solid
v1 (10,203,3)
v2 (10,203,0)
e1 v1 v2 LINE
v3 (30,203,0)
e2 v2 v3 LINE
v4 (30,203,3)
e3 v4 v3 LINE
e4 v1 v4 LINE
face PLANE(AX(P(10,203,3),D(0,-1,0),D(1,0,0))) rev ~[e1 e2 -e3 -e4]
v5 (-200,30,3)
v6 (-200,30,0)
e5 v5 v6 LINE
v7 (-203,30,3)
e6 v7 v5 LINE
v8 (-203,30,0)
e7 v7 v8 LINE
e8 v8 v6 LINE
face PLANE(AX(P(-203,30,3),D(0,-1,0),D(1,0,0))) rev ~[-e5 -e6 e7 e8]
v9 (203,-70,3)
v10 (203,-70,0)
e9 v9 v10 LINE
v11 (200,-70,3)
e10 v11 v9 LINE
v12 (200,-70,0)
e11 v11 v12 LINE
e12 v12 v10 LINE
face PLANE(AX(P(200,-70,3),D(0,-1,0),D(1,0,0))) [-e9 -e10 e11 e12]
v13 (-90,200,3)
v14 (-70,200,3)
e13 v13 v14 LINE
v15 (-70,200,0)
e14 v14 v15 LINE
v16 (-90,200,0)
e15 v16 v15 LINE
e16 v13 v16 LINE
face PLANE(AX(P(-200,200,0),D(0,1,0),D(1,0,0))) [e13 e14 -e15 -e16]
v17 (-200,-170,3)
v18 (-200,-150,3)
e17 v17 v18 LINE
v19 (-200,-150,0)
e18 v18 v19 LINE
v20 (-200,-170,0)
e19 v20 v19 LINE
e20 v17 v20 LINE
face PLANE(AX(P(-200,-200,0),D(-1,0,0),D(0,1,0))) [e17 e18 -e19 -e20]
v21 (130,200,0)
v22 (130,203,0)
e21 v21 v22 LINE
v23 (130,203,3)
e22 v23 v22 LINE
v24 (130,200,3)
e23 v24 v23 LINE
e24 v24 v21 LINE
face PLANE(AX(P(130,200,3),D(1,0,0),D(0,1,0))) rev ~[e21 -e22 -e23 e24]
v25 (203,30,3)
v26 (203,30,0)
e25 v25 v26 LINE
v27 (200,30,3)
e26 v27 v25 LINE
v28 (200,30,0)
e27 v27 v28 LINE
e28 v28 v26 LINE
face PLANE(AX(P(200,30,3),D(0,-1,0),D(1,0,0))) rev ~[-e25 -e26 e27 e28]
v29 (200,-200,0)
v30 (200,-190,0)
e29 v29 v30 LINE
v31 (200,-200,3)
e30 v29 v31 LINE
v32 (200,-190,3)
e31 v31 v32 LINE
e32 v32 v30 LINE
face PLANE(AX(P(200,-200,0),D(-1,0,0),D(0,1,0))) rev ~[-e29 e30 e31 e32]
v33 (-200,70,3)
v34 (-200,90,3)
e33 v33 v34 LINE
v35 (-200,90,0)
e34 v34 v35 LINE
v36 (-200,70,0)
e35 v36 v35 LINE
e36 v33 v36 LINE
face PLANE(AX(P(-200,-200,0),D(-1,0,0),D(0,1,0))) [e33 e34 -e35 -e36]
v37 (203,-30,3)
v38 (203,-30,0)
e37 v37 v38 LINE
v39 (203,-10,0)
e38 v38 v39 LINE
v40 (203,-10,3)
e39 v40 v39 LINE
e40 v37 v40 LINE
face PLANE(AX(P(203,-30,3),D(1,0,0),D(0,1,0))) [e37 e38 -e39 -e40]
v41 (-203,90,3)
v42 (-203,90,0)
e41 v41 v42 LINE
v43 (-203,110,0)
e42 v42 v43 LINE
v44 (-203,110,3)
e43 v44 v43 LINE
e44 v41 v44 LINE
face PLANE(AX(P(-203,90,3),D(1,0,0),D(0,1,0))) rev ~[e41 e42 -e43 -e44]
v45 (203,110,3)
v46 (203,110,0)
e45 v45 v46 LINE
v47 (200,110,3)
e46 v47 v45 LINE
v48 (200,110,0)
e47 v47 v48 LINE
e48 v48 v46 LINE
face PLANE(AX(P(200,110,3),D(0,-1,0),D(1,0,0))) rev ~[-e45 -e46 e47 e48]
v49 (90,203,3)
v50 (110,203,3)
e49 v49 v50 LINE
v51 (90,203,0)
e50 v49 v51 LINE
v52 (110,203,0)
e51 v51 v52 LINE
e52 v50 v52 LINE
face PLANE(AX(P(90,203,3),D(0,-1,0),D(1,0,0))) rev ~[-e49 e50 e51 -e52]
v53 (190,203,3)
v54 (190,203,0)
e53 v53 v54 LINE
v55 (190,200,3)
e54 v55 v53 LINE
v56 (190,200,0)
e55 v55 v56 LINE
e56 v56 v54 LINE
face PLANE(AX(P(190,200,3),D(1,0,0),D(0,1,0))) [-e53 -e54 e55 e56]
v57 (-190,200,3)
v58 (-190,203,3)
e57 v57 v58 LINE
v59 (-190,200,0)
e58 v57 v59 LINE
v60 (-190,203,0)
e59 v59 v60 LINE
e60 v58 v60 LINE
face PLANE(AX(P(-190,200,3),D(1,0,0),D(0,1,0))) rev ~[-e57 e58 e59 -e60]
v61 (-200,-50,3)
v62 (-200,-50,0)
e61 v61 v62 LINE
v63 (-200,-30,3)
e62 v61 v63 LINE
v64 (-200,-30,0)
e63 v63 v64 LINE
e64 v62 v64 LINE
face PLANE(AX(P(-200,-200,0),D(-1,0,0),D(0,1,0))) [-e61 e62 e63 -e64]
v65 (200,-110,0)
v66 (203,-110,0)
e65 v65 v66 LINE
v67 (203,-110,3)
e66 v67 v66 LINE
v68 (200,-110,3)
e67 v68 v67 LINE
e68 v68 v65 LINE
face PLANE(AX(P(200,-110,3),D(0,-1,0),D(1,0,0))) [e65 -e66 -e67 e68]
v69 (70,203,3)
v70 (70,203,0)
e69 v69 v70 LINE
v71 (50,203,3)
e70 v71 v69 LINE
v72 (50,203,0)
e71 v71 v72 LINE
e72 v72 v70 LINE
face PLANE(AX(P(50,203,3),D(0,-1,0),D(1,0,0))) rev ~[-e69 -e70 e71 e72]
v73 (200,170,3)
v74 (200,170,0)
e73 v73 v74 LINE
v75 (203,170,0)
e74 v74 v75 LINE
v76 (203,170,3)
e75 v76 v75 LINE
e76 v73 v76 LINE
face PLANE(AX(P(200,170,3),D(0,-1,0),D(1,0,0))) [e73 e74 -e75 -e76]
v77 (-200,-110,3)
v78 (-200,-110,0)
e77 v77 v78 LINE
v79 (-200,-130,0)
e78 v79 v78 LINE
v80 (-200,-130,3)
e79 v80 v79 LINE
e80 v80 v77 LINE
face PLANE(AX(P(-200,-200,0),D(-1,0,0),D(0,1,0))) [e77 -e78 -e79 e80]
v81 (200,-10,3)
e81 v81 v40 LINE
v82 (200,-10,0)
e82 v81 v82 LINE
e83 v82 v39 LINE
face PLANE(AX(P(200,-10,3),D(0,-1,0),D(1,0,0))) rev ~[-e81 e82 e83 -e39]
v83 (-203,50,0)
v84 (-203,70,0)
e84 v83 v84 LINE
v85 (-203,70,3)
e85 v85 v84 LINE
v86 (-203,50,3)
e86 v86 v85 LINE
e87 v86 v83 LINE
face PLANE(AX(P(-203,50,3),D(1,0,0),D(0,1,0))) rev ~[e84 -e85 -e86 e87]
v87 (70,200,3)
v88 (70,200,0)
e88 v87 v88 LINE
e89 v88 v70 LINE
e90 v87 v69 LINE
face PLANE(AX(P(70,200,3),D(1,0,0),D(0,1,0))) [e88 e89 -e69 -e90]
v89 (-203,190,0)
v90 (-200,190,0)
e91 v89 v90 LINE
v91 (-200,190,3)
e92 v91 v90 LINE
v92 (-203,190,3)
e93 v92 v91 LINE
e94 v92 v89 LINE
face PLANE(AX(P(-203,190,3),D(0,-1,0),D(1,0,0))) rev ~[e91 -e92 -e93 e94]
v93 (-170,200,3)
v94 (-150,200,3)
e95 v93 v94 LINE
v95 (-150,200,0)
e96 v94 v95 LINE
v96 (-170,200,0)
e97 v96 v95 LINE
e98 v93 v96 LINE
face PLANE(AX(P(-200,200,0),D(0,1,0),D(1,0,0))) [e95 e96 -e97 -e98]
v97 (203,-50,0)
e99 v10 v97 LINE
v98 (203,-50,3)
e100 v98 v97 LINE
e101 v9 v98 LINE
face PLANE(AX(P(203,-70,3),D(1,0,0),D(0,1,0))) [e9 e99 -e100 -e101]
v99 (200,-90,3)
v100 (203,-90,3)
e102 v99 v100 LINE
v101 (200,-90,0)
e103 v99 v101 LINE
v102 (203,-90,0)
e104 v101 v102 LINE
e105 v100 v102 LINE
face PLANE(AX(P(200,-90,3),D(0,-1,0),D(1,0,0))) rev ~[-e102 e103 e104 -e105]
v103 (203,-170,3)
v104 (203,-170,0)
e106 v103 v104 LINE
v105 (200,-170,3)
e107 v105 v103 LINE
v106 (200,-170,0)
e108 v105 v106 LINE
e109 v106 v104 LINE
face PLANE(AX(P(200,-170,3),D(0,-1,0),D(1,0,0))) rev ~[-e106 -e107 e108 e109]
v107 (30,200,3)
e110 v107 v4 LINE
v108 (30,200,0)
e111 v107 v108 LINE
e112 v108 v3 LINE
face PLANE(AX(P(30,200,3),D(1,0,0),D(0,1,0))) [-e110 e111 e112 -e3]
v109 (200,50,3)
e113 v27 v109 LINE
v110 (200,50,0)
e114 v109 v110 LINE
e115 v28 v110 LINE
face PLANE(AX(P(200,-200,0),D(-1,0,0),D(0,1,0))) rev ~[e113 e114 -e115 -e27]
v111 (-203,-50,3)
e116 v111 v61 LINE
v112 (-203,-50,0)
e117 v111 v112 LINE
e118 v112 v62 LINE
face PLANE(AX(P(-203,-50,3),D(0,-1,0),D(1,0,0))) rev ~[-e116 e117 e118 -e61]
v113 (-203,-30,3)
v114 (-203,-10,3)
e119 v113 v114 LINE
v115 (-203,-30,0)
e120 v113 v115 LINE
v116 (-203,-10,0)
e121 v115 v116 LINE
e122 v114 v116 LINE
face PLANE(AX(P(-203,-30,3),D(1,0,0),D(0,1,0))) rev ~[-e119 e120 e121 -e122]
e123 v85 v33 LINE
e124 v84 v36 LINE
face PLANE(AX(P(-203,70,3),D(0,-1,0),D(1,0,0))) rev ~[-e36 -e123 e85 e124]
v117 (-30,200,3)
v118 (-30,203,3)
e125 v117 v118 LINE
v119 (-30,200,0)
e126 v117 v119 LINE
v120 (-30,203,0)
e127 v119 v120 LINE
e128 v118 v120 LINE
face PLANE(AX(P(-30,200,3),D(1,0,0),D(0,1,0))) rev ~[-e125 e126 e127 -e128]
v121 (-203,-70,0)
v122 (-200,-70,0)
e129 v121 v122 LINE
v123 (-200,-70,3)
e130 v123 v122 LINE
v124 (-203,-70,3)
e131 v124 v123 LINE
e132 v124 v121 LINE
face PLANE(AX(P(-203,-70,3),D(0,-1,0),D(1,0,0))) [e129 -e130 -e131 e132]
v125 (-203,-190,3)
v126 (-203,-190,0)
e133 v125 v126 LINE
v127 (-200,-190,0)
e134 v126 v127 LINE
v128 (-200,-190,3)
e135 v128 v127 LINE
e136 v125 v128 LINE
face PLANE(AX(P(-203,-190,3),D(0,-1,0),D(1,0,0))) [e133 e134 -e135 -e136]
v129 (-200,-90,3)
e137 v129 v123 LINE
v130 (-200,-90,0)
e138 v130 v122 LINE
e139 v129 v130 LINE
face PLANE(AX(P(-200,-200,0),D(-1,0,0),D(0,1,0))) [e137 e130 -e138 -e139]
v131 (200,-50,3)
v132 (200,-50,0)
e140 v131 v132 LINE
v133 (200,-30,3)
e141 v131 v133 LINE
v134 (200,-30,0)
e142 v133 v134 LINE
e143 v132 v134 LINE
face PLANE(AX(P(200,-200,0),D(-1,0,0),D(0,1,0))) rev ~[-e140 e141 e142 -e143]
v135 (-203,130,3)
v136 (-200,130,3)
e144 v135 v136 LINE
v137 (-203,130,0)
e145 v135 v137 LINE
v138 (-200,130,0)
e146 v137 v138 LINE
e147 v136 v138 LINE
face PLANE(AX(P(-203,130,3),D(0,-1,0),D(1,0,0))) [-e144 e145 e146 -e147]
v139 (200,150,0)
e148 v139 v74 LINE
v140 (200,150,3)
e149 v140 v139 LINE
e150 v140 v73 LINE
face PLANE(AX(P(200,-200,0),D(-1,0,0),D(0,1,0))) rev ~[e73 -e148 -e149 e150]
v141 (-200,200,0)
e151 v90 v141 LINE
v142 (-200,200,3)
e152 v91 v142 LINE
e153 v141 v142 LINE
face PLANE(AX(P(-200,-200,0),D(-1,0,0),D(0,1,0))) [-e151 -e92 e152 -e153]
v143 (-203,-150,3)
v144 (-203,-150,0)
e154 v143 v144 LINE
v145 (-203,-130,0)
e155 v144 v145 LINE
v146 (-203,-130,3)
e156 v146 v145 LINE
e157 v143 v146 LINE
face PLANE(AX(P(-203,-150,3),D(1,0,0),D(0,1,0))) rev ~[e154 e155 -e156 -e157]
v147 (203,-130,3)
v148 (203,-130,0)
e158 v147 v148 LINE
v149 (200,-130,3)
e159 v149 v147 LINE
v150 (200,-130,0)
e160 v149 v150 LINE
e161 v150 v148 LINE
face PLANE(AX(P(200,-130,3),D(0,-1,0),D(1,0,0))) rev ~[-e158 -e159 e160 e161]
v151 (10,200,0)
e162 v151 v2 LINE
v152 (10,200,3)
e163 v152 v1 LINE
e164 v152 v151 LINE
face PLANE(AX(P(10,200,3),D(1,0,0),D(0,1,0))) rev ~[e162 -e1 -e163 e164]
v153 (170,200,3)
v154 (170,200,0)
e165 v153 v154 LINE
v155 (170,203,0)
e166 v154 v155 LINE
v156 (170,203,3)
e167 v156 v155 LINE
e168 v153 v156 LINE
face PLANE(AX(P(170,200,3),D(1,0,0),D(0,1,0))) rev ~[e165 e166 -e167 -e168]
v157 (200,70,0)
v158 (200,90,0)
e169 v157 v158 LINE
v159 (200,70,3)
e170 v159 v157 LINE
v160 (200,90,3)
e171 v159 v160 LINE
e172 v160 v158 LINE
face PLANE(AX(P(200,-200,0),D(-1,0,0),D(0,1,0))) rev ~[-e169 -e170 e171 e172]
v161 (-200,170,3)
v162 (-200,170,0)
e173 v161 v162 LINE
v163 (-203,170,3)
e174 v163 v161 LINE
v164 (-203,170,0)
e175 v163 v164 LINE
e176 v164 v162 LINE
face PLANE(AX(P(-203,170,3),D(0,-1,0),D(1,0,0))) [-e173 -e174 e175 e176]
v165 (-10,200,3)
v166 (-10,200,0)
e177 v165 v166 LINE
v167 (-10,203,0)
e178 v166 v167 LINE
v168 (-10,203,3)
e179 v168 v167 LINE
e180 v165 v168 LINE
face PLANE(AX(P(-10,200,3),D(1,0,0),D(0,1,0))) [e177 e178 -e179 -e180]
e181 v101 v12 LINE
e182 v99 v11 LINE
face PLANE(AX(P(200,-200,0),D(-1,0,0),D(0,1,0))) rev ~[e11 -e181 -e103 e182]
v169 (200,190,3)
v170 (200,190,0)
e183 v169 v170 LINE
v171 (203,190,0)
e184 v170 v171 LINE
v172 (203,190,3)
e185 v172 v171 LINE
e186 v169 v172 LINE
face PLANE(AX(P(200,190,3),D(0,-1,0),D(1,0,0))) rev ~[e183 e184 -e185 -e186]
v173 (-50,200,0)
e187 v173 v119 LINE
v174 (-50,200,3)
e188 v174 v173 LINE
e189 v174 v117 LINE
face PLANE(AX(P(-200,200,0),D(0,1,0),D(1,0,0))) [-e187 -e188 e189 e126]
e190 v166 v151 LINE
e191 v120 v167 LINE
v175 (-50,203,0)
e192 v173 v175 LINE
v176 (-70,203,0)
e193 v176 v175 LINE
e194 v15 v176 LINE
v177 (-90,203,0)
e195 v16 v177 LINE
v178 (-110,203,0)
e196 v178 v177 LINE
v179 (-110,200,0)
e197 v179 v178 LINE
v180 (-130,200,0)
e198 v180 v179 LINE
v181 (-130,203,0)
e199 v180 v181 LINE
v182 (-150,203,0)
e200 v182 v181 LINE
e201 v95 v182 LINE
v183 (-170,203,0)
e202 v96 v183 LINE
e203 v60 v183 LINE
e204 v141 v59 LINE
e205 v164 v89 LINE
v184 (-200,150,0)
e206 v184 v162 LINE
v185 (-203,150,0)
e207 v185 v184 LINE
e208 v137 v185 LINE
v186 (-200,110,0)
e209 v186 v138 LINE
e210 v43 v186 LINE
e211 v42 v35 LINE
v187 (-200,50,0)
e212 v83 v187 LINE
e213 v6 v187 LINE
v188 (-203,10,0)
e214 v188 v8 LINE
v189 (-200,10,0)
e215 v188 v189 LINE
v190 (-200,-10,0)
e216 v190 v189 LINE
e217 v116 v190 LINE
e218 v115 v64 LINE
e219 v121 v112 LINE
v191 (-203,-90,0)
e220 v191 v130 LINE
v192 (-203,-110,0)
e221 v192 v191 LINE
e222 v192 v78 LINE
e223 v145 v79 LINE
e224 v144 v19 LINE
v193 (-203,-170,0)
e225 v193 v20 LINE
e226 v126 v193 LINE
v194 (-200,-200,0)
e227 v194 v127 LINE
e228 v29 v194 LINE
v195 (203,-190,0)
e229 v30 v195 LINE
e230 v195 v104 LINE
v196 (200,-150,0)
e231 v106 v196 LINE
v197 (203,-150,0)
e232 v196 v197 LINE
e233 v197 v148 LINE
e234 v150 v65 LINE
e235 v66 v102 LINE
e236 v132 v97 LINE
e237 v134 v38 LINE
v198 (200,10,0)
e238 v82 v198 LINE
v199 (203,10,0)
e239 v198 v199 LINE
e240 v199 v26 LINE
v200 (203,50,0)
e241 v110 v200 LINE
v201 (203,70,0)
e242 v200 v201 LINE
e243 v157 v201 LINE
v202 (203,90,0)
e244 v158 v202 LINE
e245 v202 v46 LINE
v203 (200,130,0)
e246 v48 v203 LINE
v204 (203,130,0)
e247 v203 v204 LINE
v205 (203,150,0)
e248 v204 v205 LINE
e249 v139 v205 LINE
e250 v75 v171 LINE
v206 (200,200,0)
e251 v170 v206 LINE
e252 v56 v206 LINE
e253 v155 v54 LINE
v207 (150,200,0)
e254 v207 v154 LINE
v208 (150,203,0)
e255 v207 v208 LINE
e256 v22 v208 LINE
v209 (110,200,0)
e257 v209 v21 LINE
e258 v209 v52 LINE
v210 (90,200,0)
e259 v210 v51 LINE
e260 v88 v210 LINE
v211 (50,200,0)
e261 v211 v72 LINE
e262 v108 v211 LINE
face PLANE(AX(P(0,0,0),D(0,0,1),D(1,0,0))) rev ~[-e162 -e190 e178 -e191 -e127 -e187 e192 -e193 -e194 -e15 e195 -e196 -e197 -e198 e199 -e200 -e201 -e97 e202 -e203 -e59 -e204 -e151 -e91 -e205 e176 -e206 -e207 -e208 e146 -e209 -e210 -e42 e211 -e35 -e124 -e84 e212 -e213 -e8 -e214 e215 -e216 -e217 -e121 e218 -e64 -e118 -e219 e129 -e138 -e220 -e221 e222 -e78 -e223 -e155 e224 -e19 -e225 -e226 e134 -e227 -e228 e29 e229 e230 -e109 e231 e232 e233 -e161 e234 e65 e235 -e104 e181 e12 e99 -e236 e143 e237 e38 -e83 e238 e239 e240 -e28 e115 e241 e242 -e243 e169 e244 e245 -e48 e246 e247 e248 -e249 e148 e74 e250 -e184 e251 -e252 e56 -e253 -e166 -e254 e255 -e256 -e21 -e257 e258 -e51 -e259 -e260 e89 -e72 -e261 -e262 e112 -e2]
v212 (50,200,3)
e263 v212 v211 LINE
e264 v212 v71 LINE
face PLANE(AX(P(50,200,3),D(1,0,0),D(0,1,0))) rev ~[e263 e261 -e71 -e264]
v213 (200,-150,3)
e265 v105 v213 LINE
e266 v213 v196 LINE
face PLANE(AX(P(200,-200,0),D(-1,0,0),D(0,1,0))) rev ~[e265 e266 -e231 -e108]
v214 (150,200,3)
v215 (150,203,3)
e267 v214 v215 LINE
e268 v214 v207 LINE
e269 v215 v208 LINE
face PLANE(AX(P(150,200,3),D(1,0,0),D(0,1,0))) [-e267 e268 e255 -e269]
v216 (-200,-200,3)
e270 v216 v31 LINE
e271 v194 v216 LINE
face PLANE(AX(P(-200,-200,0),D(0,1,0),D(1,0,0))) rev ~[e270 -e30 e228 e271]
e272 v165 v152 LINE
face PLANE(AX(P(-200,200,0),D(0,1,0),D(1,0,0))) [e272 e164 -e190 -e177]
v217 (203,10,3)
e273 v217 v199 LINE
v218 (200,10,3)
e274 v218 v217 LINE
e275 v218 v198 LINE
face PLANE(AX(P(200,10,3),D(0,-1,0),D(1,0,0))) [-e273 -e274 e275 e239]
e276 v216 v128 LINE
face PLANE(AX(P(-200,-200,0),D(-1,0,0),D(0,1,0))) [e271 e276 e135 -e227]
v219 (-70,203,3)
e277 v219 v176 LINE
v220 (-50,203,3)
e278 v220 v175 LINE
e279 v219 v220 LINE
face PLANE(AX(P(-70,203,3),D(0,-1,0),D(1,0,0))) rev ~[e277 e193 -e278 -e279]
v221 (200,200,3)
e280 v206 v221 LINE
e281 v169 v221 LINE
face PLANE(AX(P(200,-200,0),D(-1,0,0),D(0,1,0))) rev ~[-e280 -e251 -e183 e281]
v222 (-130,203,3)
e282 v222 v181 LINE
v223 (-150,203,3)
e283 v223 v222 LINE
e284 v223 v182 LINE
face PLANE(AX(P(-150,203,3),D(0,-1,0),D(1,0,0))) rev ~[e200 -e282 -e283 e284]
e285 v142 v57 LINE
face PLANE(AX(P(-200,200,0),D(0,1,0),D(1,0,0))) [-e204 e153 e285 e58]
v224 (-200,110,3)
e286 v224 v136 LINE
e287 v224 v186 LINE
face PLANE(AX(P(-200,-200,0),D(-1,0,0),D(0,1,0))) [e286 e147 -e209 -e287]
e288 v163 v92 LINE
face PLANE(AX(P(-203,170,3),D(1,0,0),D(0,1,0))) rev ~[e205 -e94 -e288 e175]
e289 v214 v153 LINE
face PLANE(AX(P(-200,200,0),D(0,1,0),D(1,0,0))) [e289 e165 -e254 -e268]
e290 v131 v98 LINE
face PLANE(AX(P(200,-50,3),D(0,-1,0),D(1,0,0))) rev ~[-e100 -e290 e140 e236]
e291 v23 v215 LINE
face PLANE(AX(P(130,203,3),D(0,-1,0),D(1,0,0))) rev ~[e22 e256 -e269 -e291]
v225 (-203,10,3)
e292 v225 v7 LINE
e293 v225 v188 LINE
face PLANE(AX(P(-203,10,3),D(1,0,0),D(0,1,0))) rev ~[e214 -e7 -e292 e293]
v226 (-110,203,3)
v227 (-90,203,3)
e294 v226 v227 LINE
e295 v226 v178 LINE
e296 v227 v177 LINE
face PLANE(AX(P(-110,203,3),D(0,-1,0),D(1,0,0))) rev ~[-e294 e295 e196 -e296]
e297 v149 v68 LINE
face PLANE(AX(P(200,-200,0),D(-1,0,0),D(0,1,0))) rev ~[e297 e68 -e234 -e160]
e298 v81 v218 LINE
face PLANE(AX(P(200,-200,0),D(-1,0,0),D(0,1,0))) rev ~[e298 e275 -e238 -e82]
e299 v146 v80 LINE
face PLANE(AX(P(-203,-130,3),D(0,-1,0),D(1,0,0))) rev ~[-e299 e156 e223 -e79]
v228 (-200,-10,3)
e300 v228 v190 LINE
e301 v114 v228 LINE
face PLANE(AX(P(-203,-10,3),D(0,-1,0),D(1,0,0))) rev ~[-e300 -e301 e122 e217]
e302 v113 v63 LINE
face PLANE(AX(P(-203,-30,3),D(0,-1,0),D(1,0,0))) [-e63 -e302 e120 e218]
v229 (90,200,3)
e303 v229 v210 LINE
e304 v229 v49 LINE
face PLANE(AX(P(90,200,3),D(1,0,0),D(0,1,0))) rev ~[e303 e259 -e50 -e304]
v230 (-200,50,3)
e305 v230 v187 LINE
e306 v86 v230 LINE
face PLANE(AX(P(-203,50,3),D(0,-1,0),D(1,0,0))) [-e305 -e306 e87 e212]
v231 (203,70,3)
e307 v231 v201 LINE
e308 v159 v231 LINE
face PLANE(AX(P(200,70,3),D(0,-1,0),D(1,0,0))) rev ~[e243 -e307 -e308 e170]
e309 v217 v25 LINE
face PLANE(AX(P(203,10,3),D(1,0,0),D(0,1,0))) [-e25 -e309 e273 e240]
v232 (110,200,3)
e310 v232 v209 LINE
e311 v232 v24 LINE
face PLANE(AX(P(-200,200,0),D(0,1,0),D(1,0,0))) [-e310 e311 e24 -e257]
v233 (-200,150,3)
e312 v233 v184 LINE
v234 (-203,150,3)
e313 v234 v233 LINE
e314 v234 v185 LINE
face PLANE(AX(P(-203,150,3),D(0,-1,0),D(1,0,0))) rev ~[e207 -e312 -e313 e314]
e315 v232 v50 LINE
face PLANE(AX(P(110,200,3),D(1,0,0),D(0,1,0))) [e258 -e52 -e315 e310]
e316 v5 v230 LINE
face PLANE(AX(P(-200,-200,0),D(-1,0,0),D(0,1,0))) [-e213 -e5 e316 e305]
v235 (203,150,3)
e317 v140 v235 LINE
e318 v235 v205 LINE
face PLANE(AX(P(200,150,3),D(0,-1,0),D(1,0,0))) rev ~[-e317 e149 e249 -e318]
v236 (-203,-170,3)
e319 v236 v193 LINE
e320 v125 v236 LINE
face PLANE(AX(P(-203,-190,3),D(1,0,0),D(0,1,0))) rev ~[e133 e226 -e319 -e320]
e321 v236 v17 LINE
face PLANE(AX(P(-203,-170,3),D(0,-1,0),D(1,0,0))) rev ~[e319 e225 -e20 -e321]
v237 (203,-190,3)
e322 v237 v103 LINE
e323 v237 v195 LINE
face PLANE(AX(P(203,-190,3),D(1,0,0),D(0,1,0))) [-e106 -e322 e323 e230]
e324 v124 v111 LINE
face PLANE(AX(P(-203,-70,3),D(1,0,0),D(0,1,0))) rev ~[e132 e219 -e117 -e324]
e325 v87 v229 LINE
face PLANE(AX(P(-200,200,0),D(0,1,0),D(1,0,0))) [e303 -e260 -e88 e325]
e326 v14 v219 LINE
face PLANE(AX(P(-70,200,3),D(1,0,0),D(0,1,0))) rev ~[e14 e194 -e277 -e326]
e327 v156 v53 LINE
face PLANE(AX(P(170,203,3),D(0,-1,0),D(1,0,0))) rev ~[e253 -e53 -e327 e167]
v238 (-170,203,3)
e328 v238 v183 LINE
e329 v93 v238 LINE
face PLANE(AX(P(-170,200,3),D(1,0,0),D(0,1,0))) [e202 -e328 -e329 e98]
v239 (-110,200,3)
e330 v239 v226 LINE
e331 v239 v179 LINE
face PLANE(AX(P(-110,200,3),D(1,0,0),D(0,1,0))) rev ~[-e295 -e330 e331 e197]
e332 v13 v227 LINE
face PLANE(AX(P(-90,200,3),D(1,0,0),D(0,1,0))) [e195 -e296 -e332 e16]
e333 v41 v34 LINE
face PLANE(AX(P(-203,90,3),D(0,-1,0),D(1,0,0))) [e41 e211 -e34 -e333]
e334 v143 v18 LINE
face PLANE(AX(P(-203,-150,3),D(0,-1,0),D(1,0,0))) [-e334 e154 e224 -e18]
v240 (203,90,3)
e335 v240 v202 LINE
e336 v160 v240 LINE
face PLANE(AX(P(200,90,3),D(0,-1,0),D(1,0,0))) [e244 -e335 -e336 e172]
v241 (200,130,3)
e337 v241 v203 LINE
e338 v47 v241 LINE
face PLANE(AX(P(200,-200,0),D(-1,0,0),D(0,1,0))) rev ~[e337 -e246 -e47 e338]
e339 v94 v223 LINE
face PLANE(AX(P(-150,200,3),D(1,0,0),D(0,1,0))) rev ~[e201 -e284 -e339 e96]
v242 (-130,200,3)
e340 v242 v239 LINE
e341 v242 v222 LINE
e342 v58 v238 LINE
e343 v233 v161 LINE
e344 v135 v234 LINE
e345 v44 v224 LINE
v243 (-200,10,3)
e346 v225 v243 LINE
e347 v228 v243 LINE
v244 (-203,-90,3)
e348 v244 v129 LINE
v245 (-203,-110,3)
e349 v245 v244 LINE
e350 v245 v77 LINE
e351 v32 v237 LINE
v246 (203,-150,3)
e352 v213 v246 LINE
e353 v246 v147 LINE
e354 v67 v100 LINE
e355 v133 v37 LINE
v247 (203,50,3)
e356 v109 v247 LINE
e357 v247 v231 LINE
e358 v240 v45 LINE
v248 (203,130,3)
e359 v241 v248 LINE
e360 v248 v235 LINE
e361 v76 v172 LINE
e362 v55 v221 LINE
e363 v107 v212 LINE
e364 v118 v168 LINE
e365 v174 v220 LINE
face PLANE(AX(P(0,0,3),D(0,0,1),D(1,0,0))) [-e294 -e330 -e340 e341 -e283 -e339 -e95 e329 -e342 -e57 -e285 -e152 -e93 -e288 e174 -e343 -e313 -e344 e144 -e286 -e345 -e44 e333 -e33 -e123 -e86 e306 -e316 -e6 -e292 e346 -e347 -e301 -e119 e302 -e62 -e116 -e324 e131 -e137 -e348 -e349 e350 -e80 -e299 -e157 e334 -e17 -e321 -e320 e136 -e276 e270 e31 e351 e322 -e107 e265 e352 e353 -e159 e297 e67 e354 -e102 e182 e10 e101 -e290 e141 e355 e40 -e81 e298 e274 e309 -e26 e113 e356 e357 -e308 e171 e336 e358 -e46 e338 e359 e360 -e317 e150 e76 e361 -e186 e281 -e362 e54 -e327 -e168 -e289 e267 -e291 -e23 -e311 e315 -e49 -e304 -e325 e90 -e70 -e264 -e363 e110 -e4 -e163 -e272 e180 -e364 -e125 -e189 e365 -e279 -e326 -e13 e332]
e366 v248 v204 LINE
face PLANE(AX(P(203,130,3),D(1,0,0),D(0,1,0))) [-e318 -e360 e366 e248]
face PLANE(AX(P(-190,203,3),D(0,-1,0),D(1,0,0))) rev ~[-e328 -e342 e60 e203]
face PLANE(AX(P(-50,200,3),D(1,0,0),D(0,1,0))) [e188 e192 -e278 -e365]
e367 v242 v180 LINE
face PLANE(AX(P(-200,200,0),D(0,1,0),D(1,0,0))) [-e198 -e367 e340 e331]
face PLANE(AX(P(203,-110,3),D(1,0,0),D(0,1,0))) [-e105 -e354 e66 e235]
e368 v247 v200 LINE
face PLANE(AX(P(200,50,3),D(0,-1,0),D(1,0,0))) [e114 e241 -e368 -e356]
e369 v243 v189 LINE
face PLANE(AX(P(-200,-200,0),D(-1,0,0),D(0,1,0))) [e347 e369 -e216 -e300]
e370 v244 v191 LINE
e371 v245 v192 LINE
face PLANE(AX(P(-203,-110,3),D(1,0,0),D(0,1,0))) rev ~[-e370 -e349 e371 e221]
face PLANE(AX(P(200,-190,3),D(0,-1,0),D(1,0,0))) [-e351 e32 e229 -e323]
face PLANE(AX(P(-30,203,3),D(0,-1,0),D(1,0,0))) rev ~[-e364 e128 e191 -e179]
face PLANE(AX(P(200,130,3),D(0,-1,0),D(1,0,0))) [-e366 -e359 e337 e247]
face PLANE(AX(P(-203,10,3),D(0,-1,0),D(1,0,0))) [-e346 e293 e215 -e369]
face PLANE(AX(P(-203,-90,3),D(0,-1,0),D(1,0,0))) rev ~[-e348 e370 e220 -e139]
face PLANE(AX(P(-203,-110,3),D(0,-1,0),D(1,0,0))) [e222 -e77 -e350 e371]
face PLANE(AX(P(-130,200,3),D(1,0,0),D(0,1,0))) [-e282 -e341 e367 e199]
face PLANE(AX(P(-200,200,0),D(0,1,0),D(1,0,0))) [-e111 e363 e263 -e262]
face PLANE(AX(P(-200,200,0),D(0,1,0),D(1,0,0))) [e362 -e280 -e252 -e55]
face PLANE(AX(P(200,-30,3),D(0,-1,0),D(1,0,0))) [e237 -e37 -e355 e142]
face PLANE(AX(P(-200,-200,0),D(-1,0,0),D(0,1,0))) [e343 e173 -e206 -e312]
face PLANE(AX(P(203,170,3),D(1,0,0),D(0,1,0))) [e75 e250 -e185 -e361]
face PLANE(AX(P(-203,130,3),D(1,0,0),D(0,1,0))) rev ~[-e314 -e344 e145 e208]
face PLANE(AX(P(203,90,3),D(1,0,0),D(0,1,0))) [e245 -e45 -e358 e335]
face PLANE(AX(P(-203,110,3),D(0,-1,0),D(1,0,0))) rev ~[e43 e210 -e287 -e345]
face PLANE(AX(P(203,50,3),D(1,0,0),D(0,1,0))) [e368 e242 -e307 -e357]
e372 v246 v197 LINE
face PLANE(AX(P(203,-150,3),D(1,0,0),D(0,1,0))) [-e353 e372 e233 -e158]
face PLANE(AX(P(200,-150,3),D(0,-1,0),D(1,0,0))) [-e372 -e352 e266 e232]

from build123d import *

# Parameters (mm, degrees)
F0_W     = 400
F0_H     = 400
F1_DEPTH = 3
F2_W     = 20
F2_H     = 3
F2_W_2   = 3
F2_H_2   = 20
F3_DEPTH = 3
F4_W     = 380
F4_H     = 3
F5_DEPTH = 25


with BuildPart() as f1:
    # F0 (on Top) → F1 (new body)
    with BuildSketch(Plane.XY):
        Rectangle(F0_W, F0_H)
    extrude(amount=F1_DEPTH)

    # F2 (on face) → F3 (join, through all)
    with BuildSketch(Plane.XY.offset(3)):
        with Locations((-180, -201.5)):
            Rectangle(F2_W, F2_H)
        with Locations((-140, -201.5)):
            Rectangle(F2_W, F2_H)
        with Locations((-100, -201.5)):
            Rectangle(F2_W, F2_H)
        with Locations((-60, -201.5)):
            Rectangle(F2_W, F2_H)
        with Locations((-20, -201.5)):
            Rectangle(F2_W, F2_H)
        with Locations((20, -201.5)):
            Rectangle(F2_W, F2_H)
        with Locations((60, -201.5)):
            Rectangle(F2_W, F2_H)
        with Locations((100, -201.5)):
            Rectangle(F2_W, F2_H)
        with Locations((140, -201.5)):
            Rectangle(F2_W, F2_H)
        with Locations((180, -201.5)):
            Rectangle(F2_W, F2_H)
        with Locations((201.5, 100)):
            Rectangle(F2_W_2, F2_H_2)
        with Locations((201.5, 180)):
            Rectangle(F2_W_2, F2_H_2)
        with Locations((201.5, 20)):
            Rectangle(F2_W_2, F2_H_2)
        with Locations((201.5, 140)):
            Rectangle(F2_W_2, F2_H_2)
        with Locations((201.5, -20)):
            Rectangle(F2_W_2, F2_H_2)
        with Locations((201.5, 60)):
            Rectangle(F2_W_2, F2_H_2)
        with Locations((201.5, -60)):
            Rectangle(F2_W_2, F2_H_2)
        with Locations((201.5, -180)):
            Rectangle(F2_W_2, F2_H_2)
        with Locations((201.5, -140)):
            Rectangle(F2_W_2, F2_H_2)
        with Locations((201.5, -100)):
            Rectangle(F2_W_2, F2_H_2)
        with Locations((-100, 201.5)):
            Rectangle(F2_W, F2_H)
        with Locations((-180, 201.5)):
            Rectangle(F2_W, F2_H)
        with Locations((-20, 201.5)):
            Rectangle(F2_W, F2_H)
        with Locations((-140, 201.5)):
            Rectangle(F2_W, F2_H)
        with Locations((20, 201.5)):
            Rectangle(F2_W, F2_H)
        with Locations((-60, 201.5)):
            Rectangle(F2_W, F2_H)
        with Locations((60, 201.5)):
            Rectangle(F2_W, F2_H)
        with Locations((180, 201.5)):
            Rectangle(F2_W, F2_H)
        with Locations((140, 201.5)):
            Rectangle(F2_W, F2_H)
        with Locations((100, 201.5)):
            Rectangle(F2_W, F2_H)
        with Locations((-201.5, -100)):
            Rectangle(F2_W_2, F2_H_2)
        with Locations((-201.5, -180)):
            Rectangle(F2_W_2, F2_H_2)
        with Locations((-201.5, -20)):
            Rectangle(F2_W_2, F2_H_2)
        with Locations((-201.5, -140)):
            Rectangle(F2_W_2, F2_H_2)
        with Locations((-201.5, 20)):
            Rectangle(F2_W_2, F2_H_2)
        with Locations((-201.5, -60)):
            Rectangle(F2_W_2, F2_H_2)
        with Locations((-201.5, 60)):
            Rectangle(F2_W_2, F2_H_2)
        with Locations((-201.5, 180)):
            Rectangle(F2_W_2, F2_H_2)
        with Locations((-201.5, 140)):
            Rectangle(F2_W_2, F2_H_2)
        with Locations((-201.5, 100)):
            Rectangle(F2_W_2, F2_H_2)
    extrude(amount=-F3_DEPTH)

    # F4 (on face) → F5 (cut)
    with BuildSketch(Plane.XY.offset(3)):
        with Locations((0, -201.5)):
            Rectangle(F4_W, F4_H)
    extrude(amount=-F5_DEPTH, mode=Mode.SUBTRACT)


solid = f1.part
